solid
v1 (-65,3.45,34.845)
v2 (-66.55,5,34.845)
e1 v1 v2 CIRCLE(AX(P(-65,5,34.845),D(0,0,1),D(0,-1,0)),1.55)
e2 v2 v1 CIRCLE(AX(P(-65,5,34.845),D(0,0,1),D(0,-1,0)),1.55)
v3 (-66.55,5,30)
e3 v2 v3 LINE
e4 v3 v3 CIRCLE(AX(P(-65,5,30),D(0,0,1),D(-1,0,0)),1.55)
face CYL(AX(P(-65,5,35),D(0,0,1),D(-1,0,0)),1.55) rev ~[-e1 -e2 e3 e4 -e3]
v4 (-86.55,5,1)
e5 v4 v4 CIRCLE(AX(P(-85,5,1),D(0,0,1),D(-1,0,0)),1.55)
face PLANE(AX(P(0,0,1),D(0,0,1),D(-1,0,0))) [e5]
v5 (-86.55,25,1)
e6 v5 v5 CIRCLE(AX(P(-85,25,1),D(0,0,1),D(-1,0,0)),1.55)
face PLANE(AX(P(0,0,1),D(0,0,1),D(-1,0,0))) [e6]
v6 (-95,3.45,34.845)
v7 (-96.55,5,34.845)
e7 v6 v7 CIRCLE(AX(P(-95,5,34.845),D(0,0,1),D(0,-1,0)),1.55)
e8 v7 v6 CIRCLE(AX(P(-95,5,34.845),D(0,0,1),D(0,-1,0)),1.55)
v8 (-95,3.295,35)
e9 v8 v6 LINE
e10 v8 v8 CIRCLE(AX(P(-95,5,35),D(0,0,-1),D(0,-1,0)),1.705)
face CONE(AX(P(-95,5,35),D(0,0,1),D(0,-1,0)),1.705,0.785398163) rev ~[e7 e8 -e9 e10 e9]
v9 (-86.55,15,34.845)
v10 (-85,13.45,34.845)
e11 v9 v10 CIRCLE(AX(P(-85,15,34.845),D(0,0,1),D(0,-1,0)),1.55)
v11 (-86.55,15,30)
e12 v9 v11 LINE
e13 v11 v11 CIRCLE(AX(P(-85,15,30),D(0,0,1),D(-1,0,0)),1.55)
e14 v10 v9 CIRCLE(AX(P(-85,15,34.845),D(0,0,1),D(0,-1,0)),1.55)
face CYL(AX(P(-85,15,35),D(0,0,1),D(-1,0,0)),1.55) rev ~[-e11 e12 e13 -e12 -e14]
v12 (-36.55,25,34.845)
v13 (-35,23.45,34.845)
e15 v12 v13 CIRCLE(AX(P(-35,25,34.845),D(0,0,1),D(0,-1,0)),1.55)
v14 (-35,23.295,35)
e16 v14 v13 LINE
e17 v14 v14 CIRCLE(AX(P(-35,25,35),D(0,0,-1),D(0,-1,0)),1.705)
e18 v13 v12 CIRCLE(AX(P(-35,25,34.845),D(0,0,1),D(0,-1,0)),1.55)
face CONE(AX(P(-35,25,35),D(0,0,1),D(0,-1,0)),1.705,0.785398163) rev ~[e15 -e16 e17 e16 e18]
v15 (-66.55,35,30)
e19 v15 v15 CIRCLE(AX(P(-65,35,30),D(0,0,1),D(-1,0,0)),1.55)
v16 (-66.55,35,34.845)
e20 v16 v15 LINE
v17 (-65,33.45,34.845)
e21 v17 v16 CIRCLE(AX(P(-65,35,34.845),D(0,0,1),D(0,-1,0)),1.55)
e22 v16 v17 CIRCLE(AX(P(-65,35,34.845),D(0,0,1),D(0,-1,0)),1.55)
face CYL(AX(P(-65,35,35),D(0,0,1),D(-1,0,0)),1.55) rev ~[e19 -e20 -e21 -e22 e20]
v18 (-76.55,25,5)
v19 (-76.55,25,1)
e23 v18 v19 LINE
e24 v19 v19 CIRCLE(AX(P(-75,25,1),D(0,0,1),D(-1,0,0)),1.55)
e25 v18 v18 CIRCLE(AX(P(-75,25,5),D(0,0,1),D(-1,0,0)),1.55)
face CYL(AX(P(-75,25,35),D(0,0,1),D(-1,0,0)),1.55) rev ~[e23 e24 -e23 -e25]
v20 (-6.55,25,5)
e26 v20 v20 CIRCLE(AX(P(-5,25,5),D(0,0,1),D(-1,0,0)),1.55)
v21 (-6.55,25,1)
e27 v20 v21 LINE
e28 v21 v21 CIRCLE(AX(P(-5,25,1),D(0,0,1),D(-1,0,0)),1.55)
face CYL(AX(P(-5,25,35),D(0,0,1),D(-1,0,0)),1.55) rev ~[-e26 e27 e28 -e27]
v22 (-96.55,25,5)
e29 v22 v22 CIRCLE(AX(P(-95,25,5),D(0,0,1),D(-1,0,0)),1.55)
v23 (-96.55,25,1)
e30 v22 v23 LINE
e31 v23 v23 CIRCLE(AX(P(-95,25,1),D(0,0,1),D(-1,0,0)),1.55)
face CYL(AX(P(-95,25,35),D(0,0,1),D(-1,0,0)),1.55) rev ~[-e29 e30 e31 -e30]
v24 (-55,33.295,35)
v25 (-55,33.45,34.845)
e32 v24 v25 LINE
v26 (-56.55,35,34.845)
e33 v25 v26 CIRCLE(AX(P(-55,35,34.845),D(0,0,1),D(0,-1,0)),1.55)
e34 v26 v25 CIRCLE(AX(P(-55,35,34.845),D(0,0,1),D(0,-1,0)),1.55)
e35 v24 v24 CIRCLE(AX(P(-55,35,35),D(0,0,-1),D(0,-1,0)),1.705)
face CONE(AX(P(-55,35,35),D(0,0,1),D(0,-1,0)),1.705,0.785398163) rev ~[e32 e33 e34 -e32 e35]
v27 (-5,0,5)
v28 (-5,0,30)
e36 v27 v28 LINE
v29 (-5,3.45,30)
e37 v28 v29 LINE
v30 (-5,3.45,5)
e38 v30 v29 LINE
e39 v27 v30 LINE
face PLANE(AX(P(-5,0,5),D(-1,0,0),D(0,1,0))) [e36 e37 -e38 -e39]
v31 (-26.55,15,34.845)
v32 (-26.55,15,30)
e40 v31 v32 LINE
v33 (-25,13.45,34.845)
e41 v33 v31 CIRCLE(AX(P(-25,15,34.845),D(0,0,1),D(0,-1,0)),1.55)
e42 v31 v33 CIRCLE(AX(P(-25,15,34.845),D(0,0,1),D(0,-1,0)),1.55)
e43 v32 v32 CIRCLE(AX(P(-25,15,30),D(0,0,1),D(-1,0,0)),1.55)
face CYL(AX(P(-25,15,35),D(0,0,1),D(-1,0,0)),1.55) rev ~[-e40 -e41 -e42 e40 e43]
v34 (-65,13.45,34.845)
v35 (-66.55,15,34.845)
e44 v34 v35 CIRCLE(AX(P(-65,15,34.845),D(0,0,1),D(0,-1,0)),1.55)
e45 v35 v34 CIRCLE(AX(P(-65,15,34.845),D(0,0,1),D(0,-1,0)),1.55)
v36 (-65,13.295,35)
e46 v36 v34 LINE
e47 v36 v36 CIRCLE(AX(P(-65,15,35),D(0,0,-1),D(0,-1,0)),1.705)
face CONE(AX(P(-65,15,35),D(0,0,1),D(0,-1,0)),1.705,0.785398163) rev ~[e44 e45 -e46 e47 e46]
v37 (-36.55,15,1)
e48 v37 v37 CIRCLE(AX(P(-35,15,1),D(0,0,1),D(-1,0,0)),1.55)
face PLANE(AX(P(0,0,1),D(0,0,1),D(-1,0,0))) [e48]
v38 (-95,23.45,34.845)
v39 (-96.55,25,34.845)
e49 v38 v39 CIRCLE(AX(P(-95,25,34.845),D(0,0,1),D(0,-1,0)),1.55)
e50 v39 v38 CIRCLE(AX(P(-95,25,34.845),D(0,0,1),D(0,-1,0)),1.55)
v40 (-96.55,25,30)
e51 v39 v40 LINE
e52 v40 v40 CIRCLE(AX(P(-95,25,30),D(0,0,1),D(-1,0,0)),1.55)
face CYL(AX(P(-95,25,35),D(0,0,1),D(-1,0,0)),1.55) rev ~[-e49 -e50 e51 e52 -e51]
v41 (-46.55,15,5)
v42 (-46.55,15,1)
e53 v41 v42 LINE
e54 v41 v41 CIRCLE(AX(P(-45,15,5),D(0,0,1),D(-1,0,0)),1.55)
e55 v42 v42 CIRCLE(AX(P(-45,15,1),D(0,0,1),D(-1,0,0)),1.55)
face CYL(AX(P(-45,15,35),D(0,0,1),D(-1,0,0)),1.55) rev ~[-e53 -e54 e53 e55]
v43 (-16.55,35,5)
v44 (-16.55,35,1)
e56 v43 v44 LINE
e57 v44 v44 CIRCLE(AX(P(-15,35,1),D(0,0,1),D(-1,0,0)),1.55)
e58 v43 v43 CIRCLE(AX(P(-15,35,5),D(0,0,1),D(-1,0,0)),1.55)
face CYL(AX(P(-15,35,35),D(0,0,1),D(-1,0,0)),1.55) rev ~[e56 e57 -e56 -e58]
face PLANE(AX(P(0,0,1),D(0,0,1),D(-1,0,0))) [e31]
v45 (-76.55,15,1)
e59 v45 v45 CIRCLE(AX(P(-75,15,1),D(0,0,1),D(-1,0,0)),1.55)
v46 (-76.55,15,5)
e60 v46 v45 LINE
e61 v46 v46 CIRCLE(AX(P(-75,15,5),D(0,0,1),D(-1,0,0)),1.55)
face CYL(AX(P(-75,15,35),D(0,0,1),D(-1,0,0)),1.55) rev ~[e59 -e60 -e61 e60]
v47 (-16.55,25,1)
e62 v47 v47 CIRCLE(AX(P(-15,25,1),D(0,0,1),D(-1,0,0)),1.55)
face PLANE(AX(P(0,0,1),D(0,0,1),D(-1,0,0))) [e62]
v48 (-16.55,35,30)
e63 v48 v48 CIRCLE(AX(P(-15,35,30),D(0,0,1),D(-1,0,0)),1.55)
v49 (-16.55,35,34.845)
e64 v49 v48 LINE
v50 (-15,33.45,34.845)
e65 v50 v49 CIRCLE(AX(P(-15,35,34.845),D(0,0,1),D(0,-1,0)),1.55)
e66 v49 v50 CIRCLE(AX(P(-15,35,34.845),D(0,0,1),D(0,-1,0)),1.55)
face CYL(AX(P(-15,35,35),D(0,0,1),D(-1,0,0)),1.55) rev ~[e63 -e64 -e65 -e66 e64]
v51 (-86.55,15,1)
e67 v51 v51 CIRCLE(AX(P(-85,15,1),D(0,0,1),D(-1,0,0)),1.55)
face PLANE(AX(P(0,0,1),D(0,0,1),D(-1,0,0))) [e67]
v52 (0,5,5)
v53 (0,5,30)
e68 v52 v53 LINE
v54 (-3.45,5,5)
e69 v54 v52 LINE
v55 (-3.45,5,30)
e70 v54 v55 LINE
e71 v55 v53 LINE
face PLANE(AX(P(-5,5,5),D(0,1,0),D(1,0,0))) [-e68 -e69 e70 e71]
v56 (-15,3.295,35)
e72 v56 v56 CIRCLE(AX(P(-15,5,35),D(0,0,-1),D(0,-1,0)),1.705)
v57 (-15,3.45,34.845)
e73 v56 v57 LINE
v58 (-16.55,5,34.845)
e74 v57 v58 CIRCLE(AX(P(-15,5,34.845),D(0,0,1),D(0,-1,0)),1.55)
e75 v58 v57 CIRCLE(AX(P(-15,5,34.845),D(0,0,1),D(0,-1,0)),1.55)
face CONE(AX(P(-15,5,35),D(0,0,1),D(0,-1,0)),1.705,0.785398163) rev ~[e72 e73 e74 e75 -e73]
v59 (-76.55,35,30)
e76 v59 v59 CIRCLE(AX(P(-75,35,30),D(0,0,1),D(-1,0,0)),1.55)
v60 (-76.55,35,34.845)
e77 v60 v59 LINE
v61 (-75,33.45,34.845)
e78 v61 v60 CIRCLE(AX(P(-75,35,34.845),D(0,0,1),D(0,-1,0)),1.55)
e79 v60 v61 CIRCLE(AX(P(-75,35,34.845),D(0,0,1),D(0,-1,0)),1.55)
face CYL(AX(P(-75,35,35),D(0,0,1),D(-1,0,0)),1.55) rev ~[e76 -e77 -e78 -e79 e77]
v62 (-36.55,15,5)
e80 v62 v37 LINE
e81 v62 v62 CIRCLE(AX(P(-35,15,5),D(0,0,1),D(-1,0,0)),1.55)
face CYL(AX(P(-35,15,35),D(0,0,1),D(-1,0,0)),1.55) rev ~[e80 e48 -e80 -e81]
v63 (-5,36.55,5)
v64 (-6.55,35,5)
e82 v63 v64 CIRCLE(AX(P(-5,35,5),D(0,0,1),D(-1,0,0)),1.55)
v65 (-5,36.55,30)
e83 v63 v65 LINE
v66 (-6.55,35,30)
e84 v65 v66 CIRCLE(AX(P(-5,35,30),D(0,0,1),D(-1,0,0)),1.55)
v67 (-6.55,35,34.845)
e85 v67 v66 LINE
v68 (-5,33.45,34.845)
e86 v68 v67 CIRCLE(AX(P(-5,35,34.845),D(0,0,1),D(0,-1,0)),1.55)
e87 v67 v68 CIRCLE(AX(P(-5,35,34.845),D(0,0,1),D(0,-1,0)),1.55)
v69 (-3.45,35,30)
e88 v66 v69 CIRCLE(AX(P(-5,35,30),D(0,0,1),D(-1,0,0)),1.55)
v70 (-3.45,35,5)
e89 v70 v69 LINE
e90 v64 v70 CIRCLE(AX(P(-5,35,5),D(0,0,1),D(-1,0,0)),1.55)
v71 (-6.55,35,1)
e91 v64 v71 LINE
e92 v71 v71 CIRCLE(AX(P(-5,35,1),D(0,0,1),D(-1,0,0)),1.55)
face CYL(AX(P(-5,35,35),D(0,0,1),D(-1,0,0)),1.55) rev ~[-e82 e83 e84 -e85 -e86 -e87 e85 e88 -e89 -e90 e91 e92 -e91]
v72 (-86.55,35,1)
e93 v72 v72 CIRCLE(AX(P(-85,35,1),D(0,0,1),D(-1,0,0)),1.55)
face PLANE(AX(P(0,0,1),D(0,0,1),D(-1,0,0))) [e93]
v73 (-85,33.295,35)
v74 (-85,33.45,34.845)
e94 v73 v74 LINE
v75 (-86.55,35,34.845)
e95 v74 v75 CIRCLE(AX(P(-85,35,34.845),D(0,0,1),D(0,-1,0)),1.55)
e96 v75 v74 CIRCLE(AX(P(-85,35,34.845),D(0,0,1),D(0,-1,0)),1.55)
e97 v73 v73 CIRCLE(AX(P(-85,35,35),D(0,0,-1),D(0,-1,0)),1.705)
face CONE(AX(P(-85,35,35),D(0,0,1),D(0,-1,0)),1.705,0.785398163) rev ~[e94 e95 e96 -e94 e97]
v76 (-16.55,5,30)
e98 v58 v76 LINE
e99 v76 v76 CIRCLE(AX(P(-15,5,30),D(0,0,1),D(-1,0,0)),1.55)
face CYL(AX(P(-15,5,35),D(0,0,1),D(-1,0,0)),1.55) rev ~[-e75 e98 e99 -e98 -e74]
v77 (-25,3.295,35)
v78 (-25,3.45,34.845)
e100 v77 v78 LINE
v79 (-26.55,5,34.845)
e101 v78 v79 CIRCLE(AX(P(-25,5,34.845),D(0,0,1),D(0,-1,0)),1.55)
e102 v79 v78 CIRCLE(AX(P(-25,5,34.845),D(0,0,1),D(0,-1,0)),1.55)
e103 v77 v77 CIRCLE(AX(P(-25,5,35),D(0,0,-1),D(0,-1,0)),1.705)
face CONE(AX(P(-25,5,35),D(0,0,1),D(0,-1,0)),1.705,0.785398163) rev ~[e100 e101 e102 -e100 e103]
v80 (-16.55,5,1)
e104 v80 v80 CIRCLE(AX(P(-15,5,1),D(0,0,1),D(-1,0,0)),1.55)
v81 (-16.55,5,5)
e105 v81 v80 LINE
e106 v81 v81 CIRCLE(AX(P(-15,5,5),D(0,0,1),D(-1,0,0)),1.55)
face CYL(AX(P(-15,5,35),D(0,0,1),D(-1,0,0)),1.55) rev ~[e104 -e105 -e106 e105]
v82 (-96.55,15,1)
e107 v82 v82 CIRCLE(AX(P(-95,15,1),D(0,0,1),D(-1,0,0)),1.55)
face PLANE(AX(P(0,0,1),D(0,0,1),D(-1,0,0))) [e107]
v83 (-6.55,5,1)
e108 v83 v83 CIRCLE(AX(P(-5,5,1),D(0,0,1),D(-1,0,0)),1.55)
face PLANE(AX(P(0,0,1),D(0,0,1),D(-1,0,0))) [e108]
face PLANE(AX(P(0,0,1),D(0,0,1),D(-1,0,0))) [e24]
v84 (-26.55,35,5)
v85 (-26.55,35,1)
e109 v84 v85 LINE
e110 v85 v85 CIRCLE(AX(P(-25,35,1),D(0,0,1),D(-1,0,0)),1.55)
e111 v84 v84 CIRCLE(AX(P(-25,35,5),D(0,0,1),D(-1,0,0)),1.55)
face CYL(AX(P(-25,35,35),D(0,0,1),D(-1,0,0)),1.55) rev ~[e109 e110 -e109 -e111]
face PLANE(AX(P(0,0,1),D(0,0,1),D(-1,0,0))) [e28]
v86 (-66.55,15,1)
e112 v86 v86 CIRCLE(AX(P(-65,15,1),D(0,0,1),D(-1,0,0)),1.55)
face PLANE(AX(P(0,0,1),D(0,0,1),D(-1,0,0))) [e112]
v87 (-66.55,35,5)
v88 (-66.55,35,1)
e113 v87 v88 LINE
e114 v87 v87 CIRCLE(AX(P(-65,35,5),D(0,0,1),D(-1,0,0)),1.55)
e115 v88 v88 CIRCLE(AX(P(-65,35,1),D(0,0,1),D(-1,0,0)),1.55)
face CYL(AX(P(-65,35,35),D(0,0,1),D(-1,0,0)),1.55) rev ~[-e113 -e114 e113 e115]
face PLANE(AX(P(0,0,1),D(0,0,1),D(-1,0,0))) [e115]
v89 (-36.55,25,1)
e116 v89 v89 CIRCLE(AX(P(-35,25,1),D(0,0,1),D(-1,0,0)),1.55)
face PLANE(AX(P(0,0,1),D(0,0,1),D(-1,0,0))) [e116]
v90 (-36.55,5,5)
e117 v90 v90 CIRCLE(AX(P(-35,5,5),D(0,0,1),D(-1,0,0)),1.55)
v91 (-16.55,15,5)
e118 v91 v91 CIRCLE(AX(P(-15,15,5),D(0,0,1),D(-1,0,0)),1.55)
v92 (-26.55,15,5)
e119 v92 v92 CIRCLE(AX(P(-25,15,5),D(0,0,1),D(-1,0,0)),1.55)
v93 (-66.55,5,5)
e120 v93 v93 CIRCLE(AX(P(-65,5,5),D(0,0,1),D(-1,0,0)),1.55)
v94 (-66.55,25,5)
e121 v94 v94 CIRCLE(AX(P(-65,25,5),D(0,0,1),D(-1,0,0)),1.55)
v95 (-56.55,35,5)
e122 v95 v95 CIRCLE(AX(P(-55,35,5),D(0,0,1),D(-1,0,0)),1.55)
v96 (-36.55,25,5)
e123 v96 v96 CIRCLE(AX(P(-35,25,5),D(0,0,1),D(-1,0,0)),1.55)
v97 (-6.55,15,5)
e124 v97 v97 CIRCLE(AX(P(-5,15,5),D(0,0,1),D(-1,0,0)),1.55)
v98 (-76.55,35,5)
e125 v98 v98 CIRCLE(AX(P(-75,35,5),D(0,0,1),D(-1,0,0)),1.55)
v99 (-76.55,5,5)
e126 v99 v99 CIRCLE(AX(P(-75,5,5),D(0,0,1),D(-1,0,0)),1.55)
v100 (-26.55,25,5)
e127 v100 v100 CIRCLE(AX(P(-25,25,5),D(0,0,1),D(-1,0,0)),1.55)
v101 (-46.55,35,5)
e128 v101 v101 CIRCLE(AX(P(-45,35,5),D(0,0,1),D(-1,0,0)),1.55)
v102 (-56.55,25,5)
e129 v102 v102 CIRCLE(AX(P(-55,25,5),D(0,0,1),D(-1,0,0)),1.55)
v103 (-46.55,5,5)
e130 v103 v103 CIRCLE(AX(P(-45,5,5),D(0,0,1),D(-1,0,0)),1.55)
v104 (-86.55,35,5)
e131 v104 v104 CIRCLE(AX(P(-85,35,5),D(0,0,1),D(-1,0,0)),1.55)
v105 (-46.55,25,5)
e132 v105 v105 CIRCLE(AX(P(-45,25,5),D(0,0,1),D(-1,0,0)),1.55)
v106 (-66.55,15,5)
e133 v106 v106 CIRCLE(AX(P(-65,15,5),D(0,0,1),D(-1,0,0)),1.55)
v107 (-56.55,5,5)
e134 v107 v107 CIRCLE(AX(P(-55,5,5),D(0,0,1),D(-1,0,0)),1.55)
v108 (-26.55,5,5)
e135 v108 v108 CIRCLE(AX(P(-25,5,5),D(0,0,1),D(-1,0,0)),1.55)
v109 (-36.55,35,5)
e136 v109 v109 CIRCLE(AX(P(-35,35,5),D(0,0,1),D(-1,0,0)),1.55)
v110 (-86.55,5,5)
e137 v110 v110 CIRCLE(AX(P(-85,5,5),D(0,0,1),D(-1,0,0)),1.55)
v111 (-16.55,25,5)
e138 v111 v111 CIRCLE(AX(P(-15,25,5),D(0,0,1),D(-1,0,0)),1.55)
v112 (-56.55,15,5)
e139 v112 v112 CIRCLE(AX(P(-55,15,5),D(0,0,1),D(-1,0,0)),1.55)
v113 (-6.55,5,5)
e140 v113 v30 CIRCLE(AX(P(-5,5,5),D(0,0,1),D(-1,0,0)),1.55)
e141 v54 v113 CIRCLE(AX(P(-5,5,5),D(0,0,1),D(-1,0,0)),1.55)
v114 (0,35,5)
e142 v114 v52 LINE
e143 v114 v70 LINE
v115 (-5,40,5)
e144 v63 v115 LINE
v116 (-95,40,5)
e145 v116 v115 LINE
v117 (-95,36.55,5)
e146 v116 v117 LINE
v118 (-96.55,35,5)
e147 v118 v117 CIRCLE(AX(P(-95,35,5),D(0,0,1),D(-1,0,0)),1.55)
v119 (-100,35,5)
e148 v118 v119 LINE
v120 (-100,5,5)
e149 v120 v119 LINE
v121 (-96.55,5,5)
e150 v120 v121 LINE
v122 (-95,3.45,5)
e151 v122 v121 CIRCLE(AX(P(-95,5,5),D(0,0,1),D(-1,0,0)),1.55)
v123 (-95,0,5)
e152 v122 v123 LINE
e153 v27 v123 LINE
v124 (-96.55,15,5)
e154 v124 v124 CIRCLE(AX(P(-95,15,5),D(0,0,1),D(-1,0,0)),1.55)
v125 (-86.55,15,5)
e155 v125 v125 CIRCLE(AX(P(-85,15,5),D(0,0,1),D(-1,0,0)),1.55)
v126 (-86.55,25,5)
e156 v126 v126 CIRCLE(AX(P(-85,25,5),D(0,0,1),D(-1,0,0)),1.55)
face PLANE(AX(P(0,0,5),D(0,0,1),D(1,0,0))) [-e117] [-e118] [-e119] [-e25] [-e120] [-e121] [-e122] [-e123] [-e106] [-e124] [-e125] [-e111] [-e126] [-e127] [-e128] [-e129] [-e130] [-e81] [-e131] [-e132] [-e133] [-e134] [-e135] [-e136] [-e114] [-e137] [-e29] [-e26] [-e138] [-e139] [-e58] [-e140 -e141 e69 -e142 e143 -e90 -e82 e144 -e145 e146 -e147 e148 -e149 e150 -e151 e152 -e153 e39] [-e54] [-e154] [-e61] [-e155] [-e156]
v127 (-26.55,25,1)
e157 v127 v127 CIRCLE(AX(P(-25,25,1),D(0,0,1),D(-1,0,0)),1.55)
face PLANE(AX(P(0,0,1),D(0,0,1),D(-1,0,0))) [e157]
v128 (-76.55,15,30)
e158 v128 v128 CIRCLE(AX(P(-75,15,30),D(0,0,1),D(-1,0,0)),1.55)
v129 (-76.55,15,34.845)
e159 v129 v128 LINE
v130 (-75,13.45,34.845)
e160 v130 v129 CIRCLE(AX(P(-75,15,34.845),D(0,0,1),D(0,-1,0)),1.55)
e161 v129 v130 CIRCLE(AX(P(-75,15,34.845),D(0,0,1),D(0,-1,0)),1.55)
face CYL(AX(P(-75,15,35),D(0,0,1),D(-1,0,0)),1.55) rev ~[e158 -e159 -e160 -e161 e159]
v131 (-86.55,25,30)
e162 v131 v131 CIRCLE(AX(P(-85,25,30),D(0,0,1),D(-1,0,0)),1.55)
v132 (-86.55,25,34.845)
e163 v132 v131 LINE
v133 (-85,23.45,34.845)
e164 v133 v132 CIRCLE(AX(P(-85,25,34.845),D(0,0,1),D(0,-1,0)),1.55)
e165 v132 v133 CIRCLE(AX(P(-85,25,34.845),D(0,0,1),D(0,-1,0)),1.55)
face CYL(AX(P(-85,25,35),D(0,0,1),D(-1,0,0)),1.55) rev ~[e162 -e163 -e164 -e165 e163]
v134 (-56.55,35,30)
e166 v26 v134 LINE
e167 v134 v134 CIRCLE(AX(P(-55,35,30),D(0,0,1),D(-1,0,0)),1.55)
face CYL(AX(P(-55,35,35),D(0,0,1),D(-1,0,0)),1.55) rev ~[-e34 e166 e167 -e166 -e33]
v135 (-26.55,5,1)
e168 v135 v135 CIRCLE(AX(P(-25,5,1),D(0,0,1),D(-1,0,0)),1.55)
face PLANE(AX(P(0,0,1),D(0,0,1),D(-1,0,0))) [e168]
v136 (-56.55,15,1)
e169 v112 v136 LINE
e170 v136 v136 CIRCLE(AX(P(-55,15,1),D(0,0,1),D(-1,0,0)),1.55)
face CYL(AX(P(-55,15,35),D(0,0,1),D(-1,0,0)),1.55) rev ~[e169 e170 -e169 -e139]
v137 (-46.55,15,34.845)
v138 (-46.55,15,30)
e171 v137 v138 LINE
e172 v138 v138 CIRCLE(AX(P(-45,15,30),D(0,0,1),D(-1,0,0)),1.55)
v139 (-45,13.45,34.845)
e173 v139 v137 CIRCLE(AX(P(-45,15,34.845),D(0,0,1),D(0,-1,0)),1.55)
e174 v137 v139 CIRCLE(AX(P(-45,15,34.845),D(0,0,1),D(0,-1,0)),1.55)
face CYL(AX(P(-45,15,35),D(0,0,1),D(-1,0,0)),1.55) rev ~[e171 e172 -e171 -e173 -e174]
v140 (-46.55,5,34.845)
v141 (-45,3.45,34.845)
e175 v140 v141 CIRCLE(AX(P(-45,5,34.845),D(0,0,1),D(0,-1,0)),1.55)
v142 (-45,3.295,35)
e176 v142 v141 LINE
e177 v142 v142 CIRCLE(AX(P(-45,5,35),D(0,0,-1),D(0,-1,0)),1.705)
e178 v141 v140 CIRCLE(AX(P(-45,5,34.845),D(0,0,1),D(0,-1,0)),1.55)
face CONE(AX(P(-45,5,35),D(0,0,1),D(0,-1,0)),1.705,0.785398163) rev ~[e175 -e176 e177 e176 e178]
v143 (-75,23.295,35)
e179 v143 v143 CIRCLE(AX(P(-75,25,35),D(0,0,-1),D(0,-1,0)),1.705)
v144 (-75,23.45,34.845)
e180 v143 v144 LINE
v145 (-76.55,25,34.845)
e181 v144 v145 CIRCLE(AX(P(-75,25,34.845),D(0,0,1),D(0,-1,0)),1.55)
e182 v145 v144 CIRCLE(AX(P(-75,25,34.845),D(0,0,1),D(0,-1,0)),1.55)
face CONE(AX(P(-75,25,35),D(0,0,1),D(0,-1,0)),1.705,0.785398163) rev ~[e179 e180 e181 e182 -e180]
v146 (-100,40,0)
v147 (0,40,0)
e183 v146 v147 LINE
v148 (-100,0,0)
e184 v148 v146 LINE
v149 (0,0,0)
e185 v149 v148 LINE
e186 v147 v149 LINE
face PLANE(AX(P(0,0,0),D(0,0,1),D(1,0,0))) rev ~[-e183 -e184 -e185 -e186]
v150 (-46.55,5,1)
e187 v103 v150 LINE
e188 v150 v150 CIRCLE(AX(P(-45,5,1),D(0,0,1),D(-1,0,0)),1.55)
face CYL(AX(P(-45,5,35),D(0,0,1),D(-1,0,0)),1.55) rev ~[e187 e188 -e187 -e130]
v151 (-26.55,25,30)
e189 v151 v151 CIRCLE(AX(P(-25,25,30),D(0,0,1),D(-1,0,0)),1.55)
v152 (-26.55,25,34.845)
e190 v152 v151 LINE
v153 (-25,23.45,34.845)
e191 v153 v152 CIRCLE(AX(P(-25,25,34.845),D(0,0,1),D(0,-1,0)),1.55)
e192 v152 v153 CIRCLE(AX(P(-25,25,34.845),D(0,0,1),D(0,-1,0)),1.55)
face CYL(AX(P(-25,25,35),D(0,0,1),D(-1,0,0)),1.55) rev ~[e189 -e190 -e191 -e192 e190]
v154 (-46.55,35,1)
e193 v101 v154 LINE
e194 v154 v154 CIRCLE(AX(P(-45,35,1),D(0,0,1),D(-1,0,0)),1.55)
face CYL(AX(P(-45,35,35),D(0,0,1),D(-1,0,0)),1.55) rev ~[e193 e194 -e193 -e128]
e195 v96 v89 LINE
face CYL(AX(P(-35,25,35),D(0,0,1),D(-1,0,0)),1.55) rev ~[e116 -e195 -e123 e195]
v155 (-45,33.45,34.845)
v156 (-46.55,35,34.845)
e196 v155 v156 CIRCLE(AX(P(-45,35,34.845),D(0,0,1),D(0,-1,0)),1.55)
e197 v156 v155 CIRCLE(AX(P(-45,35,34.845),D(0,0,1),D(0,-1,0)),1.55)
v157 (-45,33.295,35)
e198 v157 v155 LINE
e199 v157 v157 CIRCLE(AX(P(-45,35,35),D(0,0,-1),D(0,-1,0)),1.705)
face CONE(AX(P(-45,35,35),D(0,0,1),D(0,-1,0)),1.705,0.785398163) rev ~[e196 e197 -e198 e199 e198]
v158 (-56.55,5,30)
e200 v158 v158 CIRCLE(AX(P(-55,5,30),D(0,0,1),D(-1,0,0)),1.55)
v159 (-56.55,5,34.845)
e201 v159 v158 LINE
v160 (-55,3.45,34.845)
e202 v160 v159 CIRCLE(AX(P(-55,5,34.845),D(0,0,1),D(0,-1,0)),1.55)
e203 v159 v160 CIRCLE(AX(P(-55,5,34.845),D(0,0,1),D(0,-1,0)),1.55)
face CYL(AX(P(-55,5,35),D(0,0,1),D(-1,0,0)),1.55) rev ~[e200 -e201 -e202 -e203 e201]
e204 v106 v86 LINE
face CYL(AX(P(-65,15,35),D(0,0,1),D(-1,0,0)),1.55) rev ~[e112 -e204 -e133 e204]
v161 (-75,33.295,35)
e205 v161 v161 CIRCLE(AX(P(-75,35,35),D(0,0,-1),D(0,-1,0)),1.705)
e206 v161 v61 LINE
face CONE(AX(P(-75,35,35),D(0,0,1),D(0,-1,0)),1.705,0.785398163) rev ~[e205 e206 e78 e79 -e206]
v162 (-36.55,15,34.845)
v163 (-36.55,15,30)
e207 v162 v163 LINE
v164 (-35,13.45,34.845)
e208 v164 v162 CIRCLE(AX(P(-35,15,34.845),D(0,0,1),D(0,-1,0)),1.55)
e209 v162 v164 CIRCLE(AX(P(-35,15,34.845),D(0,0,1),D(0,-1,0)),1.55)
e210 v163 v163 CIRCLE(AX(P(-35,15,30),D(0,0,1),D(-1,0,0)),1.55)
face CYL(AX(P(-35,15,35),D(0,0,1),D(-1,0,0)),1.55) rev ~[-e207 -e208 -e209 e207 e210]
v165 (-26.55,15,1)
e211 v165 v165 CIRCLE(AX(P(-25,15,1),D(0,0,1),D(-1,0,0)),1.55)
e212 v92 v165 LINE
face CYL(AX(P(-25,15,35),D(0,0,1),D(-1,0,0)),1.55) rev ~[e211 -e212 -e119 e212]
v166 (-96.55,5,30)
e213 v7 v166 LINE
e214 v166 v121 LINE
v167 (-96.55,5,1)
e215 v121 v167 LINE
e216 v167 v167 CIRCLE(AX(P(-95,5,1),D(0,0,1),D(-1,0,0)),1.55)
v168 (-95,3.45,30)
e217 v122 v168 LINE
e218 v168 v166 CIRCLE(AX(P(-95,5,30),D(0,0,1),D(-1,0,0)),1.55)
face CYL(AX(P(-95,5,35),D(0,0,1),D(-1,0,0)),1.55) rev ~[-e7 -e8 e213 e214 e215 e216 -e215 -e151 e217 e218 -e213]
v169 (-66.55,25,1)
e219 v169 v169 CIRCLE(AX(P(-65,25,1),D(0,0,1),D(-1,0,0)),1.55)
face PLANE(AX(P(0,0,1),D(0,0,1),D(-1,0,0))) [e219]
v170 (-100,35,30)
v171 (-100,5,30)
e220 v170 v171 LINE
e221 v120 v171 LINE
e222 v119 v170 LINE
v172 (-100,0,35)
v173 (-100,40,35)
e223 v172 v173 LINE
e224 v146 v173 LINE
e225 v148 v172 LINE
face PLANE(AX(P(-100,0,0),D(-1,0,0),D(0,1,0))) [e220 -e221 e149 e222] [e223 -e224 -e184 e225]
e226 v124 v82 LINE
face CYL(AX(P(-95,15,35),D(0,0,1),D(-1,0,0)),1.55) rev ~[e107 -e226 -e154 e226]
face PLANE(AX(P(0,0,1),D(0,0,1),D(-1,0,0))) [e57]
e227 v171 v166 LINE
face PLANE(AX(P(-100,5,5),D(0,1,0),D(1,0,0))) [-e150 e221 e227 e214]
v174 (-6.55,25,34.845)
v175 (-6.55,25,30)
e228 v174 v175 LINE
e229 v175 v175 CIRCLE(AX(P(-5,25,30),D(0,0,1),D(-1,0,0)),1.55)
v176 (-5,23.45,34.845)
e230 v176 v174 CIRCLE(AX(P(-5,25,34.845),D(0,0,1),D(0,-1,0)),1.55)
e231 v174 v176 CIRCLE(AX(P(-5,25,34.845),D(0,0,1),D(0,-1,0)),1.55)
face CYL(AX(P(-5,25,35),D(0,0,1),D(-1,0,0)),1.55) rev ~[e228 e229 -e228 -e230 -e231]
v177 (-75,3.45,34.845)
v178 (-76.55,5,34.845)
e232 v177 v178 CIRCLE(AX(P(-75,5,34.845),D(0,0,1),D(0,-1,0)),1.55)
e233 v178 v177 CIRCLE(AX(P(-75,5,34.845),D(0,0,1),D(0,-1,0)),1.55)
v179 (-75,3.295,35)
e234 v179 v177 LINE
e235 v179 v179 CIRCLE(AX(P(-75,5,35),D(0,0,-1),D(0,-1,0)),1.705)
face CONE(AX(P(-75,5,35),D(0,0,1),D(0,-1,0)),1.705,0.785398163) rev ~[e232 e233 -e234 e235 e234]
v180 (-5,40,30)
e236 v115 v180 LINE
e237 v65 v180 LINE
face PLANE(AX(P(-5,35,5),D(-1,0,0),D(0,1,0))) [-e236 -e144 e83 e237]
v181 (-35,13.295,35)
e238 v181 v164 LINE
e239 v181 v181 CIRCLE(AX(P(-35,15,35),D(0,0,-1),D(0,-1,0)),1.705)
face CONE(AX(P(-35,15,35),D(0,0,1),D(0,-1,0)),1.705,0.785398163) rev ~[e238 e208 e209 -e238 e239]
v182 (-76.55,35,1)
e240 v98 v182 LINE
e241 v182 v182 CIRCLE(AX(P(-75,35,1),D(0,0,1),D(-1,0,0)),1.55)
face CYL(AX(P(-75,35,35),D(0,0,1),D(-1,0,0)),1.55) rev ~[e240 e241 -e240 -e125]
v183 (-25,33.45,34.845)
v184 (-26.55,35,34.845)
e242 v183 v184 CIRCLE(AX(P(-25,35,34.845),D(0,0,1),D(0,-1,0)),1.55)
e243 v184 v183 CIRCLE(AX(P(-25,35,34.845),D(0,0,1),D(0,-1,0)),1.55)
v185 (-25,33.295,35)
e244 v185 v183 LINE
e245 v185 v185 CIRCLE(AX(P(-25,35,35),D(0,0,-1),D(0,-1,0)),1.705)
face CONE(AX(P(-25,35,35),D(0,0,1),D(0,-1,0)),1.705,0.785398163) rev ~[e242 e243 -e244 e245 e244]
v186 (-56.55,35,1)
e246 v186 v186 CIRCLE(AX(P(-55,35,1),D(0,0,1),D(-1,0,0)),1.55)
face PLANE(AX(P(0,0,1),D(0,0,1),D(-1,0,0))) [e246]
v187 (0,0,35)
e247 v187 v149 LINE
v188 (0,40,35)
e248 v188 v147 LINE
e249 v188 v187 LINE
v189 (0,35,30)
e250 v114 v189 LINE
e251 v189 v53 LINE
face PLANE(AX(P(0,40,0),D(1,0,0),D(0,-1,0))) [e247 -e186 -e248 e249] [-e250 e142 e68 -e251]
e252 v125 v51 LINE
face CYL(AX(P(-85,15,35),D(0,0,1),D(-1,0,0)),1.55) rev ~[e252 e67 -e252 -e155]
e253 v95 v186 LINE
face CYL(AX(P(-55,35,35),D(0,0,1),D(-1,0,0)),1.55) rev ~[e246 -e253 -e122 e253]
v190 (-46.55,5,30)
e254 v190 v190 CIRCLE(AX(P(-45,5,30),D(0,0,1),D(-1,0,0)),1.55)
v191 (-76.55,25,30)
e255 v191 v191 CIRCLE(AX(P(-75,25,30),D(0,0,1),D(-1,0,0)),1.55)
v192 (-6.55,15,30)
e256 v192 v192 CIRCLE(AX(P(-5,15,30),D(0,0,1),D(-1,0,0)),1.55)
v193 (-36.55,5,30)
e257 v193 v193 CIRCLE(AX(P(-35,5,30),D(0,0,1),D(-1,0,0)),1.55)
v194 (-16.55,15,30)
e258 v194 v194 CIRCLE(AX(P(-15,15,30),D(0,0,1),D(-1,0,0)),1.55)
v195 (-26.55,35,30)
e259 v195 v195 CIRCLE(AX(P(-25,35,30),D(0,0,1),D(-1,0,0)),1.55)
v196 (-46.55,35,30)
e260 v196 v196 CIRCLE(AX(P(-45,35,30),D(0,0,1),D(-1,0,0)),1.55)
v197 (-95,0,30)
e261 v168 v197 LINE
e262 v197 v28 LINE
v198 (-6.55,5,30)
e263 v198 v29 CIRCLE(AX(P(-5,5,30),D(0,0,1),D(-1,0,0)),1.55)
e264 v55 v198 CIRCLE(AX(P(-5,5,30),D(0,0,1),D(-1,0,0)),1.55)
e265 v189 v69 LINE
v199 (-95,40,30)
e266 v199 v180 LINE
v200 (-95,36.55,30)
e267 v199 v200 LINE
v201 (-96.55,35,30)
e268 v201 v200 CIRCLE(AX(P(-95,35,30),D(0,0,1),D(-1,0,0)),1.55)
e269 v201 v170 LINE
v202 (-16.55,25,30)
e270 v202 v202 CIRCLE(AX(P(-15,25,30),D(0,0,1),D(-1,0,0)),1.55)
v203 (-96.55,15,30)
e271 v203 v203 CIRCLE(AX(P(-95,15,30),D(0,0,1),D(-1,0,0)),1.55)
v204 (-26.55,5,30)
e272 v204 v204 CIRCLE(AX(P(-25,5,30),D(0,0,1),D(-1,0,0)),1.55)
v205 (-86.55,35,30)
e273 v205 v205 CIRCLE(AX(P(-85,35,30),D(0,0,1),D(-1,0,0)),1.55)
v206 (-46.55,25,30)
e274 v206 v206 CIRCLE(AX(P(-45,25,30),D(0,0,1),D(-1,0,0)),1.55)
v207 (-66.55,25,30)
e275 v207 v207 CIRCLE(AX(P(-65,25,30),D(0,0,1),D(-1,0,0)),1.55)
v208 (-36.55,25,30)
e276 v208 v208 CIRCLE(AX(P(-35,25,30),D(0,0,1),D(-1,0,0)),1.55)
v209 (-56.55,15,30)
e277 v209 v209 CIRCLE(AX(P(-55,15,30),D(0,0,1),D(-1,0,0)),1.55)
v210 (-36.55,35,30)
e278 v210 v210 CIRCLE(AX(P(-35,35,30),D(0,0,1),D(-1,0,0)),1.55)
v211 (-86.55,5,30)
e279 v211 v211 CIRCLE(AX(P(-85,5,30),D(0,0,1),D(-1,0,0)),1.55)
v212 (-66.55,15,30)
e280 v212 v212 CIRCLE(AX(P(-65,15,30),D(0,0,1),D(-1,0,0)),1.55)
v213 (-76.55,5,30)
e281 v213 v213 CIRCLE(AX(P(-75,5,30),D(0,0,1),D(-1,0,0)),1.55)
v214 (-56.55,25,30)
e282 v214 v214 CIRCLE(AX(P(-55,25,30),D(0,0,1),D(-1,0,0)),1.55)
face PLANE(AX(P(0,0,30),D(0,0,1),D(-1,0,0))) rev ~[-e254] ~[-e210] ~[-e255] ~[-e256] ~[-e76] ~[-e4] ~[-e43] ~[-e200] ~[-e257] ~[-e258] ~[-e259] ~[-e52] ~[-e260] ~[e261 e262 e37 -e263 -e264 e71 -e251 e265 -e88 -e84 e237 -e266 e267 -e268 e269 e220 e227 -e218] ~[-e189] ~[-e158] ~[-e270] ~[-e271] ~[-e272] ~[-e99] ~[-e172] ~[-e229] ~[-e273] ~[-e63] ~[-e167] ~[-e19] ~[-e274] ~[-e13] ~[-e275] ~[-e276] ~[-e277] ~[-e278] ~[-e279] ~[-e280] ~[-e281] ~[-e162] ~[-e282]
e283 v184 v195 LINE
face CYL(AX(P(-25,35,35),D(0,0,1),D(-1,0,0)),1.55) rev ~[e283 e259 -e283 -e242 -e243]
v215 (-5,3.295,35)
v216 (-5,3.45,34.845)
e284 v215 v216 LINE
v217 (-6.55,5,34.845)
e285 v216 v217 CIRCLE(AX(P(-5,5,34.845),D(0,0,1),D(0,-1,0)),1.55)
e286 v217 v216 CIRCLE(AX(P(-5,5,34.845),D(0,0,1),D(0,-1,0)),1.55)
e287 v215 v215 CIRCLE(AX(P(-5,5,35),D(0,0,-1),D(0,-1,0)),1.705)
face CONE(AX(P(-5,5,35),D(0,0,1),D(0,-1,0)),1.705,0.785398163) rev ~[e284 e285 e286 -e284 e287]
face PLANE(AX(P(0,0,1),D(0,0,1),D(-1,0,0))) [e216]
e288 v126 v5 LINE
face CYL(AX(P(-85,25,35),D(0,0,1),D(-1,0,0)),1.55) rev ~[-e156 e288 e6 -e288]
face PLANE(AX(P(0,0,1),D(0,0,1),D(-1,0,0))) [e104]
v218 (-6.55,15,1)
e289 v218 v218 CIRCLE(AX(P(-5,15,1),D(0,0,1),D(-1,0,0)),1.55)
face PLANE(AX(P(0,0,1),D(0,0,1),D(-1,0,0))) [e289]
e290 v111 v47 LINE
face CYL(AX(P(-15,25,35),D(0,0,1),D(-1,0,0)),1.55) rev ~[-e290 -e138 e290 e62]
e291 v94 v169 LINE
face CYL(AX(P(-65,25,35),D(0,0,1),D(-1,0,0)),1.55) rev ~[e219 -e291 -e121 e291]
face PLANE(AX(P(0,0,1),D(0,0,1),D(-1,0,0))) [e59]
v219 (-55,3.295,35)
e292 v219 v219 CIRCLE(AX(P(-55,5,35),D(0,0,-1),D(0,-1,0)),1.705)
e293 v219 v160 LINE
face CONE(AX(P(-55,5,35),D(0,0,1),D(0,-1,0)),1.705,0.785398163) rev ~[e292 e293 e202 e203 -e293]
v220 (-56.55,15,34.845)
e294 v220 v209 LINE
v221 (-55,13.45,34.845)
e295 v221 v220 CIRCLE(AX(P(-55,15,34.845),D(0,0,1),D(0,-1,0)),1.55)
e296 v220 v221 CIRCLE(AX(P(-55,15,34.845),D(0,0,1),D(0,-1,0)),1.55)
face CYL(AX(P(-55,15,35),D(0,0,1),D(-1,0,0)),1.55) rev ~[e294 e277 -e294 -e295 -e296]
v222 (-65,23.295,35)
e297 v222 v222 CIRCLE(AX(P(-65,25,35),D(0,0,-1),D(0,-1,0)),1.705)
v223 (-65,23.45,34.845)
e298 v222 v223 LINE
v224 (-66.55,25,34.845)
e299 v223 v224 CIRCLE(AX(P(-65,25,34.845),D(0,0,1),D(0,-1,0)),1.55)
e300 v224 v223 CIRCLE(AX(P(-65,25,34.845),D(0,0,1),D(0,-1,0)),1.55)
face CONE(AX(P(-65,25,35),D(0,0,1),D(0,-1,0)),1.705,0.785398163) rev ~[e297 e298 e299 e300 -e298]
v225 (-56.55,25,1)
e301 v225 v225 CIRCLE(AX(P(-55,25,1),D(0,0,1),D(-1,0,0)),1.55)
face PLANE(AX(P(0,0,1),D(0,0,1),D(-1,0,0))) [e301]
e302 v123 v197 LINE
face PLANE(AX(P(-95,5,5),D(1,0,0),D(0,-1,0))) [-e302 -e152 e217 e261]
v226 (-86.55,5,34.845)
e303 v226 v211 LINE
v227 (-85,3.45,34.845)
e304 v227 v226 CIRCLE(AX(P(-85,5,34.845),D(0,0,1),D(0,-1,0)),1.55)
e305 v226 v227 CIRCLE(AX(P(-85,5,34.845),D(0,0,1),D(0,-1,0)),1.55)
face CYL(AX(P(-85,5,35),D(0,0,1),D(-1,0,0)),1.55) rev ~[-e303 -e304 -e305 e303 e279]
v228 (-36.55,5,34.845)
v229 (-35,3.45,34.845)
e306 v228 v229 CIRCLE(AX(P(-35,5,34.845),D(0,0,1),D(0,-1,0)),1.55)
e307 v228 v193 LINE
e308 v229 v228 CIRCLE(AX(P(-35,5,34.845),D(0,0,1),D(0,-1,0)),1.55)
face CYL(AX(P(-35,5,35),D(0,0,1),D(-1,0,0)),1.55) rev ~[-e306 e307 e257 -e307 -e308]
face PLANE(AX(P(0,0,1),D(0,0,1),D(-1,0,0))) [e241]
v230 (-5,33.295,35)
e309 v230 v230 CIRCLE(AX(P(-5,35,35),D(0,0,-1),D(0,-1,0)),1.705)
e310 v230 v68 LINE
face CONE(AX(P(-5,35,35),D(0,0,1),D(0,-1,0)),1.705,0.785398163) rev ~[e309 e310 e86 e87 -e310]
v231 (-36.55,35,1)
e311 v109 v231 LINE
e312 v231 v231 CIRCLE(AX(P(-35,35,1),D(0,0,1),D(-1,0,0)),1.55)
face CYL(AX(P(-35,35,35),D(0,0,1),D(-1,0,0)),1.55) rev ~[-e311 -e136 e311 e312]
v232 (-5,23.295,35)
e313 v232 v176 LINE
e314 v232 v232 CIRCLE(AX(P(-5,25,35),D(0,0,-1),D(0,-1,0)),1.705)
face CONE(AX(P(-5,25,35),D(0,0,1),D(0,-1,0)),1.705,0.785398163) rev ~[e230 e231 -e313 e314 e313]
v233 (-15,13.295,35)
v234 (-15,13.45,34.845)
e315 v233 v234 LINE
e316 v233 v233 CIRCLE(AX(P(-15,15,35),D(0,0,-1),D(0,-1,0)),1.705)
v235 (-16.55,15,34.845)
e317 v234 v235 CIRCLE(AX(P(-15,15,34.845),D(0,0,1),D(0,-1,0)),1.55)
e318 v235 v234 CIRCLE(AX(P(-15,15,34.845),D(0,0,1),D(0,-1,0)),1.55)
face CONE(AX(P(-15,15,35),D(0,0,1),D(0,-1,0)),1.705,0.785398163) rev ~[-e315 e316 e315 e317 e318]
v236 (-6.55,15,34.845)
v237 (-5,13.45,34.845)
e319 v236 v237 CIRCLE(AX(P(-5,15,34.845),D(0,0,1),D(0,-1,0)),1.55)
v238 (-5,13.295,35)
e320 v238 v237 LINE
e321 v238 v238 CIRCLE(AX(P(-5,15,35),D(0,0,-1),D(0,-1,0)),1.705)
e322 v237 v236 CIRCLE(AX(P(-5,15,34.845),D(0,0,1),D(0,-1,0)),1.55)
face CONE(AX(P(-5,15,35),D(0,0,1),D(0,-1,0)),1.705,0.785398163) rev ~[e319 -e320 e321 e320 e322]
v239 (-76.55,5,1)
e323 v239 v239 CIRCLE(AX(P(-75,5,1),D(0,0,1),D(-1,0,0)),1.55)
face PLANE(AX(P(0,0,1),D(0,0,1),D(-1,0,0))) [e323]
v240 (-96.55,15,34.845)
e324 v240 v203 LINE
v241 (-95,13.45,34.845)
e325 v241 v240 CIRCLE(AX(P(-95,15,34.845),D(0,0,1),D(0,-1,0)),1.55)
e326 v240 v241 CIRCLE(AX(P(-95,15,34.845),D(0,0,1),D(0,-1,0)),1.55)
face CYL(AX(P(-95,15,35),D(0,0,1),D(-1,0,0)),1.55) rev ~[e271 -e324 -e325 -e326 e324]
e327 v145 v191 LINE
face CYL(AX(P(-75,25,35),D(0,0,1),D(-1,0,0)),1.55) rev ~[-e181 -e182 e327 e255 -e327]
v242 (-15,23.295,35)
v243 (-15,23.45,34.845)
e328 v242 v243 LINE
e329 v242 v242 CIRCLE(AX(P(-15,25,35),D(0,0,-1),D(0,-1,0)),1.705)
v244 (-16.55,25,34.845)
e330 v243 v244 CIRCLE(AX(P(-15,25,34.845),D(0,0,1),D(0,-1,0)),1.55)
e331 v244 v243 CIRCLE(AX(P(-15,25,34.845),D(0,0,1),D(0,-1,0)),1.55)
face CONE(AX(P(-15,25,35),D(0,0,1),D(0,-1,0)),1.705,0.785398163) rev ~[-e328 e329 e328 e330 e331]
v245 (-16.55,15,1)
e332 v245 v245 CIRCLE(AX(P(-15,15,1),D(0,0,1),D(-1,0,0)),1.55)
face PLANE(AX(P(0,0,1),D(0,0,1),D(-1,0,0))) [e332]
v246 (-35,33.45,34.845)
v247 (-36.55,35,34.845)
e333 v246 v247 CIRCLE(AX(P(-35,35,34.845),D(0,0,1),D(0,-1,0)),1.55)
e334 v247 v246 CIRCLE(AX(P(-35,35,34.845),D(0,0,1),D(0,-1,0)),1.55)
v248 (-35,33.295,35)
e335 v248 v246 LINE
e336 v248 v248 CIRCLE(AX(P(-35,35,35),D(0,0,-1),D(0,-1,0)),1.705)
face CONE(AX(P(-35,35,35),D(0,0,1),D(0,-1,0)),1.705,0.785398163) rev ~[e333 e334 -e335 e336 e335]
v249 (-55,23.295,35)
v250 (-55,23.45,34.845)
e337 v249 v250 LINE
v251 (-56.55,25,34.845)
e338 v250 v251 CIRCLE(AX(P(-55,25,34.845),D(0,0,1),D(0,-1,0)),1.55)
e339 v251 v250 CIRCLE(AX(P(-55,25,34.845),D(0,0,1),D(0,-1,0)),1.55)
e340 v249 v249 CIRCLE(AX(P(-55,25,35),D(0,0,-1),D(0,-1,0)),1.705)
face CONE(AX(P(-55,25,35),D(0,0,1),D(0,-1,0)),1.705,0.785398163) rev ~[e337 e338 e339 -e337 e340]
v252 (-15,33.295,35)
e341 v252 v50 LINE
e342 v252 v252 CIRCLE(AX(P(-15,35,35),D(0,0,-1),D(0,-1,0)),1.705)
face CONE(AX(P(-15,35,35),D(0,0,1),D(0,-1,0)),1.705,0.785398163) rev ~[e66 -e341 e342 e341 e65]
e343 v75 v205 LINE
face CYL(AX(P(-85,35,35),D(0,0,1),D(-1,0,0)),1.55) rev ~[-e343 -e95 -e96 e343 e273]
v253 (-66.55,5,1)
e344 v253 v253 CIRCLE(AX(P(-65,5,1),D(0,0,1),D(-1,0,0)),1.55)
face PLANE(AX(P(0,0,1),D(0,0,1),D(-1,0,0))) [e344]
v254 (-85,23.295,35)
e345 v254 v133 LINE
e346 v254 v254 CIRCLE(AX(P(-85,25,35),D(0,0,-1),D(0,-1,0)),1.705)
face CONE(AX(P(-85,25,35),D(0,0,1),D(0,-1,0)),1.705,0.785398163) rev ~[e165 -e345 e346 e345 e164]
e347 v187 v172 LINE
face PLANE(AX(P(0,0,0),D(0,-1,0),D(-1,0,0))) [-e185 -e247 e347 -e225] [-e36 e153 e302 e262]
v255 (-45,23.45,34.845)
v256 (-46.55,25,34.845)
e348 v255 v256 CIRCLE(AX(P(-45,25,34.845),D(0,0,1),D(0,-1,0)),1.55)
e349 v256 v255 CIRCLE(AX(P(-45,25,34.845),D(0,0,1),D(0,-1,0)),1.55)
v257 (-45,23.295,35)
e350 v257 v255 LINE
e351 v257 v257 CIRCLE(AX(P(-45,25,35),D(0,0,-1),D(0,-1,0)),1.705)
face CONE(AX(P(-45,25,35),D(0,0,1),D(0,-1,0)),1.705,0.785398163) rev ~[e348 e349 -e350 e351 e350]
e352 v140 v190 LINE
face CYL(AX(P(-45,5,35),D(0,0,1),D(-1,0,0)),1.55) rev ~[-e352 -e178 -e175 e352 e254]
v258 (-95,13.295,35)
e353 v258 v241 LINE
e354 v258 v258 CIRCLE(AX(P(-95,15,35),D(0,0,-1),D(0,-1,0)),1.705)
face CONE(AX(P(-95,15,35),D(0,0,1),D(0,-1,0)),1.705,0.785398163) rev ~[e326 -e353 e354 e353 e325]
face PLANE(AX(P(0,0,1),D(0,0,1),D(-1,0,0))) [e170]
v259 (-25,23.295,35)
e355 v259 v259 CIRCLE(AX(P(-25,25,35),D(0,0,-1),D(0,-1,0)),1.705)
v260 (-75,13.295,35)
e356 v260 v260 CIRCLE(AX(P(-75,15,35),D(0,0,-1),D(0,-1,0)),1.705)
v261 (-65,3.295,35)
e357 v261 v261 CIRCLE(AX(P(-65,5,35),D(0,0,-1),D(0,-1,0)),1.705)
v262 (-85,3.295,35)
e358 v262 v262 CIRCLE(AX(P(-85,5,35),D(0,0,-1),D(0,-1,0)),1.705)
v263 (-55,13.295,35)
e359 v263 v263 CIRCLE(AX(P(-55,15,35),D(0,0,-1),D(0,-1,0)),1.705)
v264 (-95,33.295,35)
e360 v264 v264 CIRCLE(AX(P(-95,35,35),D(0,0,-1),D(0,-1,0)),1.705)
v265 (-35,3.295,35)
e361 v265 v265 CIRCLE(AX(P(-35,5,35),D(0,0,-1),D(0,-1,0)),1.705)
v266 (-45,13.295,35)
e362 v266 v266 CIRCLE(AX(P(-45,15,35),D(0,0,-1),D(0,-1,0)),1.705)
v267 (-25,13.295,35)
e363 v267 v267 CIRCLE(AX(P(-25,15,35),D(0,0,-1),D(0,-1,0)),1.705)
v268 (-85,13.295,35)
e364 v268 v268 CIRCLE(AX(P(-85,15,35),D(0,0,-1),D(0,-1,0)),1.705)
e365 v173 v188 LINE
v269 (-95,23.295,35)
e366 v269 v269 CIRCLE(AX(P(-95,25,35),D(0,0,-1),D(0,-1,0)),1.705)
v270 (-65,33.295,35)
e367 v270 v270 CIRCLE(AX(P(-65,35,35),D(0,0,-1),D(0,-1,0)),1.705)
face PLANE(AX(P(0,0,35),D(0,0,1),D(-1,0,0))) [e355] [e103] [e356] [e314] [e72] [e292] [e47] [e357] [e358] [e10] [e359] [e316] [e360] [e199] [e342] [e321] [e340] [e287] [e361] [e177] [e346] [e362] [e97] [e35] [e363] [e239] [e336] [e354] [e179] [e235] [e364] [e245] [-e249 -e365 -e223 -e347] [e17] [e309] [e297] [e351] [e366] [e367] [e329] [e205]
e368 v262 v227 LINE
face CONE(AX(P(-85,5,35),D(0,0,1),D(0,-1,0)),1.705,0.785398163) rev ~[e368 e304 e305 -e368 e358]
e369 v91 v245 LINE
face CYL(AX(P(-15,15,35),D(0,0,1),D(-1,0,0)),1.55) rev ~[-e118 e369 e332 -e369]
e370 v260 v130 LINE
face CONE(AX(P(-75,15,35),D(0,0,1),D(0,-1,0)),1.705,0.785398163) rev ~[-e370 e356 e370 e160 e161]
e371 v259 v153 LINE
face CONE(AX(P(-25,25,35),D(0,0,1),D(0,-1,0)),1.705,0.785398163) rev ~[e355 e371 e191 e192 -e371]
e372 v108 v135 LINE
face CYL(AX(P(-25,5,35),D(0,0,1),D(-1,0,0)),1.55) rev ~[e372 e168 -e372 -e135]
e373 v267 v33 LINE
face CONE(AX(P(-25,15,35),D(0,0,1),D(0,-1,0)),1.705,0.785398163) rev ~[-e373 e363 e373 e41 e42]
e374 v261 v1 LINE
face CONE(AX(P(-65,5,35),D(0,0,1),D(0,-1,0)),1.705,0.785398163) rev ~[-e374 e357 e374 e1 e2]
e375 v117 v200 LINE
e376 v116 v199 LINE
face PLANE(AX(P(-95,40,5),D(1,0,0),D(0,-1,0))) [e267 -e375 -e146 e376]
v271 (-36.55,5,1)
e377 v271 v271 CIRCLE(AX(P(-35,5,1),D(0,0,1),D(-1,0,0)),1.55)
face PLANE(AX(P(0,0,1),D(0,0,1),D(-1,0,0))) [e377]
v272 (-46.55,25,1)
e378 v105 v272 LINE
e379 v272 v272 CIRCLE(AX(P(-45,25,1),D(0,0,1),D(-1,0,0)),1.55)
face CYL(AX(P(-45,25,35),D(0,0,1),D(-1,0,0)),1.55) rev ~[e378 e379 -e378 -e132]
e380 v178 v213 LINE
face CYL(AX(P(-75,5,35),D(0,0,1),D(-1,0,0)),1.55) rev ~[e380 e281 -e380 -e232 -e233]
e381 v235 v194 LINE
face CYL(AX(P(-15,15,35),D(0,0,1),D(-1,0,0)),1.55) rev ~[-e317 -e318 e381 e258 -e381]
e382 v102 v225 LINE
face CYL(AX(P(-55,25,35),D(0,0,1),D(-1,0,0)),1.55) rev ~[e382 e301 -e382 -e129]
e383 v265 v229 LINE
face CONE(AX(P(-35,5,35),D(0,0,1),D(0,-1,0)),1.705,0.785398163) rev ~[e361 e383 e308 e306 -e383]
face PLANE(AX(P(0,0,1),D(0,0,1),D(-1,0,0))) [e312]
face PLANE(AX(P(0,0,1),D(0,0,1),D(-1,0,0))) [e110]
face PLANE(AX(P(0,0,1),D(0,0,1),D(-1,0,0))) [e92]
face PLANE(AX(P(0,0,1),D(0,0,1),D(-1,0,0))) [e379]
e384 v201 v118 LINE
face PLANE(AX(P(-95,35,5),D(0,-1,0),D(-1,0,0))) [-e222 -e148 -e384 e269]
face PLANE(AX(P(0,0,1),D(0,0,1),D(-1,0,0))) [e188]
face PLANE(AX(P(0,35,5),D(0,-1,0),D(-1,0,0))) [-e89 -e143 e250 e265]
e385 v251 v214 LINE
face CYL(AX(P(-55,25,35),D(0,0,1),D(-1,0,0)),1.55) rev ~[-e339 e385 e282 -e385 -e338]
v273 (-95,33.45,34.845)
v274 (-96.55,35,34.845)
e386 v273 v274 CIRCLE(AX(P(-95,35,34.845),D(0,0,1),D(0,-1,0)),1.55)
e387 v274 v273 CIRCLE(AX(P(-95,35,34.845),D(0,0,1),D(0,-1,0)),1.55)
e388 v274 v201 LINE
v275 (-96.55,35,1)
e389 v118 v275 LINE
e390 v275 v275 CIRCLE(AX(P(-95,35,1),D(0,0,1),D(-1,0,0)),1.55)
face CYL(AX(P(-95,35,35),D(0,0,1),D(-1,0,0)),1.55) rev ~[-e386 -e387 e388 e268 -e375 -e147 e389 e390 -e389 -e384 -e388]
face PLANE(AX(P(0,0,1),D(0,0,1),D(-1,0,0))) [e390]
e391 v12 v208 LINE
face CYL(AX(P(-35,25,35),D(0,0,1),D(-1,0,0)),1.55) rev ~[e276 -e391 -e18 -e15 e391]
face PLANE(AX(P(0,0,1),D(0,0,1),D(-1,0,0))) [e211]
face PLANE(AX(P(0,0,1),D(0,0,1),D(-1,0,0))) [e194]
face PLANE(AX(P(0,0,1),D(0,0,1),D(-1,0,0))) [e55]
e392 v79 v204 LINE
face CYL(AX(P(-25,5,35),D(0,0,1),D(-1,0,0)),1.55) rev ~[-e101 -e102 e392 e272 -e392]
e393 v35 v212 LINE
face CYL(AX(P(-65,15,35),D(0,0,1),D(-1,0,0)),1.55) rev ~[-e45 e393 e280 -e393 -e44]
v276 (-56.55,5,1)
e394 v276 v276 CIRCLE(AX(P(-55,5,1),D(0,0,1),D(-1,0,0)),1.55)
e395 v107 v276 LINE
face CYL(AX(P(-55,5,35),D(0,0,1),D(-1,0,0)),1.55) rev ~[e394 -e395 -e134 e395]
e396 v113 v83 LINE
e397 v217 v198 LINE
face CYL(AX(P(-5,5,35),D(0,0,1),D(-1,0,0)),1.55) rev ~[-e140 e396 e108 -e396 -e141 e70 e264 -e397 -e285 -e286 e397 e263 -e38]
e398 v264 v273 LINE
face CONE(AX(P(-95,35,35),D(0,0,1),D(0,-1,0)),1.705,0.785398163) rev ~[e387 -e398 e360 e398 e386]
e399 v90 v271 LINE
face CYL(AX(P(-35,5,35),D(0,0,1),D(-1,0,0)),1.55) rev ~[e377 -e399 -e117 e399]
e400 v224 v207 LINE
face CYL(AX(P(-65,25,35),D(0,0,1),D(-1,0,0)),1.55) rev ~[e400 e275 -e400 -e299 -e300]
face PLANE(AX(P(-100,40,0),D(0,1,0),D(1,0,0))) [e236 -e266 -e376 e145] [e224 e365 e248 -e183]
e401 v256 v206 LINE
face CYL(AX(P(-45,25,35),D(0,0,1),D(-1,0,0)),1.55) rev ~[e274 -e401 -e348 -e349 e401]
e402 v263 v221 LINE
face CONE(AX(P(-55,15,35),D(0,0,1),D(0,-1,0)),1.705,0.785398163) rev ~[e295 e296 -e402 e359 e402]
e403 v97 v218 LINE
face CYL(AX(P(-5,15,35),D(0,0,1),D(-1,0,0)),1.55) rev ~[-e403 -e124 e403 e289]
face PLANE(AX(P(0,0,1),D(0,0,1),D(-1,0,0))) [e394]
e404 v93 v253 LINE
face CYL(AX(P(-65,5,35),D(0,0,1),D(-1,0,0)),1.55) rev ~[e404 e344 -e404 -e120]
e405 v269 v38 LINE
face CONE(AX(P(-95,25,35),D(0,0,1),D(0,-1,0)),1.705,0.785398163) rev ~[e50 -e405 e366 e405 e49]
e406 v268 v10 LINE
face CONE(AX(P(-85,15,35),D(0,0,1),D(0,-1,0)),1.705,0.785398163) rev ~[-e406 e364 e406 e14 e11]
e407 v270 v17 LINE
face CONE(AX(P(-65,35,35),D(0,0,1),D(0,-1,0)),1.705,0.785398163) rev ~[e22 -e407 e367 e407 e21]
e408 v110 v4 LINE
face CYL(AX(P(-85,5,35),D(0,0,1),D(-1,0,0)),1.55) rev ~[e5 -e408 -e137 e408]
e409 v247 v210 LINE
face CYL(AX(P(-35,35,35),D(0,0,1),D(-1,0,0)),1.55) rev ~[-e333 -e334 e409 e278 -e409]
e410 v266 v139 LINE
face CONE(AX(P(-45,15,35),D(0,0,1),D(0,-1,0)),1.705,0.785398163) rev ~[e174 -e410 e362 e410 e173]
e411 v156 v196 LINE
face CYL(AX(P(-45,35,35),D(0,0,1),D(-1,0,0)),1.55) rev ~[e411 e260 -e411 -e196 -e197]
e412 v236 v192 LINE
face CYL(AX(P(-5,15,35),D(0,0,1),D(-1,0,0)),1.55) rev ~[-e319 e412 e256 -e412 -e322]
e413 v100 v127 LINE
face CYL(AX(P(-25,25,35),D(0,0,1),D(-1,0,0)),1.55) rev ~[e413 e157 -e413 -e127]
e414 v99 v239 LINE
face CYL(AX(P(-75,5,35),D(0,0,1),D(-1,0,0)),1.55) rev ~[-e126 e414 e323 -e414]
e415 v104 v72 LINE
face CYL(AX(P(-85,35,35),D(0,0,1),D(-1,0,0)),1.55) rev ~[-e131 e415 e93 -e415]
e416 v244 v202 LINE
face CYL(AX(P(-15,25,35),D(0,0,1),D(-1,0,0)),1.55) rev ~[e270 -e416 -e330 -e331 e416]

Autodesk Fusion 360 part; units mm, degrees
sketch "base" plane through (0, 0, 0) normal (0, 0, 1) x (1, 0, 0)
  line L0 (-100, 40) -> (0, 40)
  line L1 (0, 40) -> (0, 0)
  line L2 (0, 0) -> (-100, 0)
  line L3 (-100, 0) -> (-100, 40)
  dimension "d1" = 40
  dimension "d2" = 100
extrude "Extrude1" add sketch "base" along normal blind 5
sketch "stands" plane through (0, 0, 5) normal (0, 0, 1) x (-1, 0, 0)
  line L0 (100, 0) -> (0, 0)
  line L1 (0, 0) -> (0, -40)
  line L2 (0, -40) -> (100, -40)
  line L3 (100, -40) -> (100, 0)
  line L4 (100, -40) -> (95, -40)
  line L5 (95, -40) -> (95, -35)
  line L6 (95, -35) -> (100, -35)
  line L7 (100, -35) -> (100, -40)
  line L8 (5, -35) -> (5, -40)
  line L9 (5, -40) -> (0, -40)
  line L10 (0, -40) -> (0, -35)
  line L11 (0, -35) -> (5, -35)
  line L12 (100, 0) -> (100, -5)
  line L13 (100, -5) -> (95, -5)
  line L14 (95, -5) -> (95, 0)
  line L15 (95, 0) -> (100, 0)
  line L16 (5, 0) -> (5, -5)
  line L17 (5, -5) -> (0, -5)
  line L18 (0, -5) -> (0, 0)
  line L19 (0, 0) -> (5, 0)
  dimension "d6" = 5
  dimension "d7" = 5
  dimension "d8" = 5
  dimension "d11" = -95
  dimension "d12" = 35
  dimension "d13" = 90
  dimension "d14" = 30
extrude "Extrude2" add sketch "stands" along normal blind 25 contours L0 L3 L12 L13 L14 L15 | L0 L1 L16 L17 L18 L19 | L2 L3 L4 L5 L6 L7 | L1 L2 L8 L9 L10 L11
sketch "top" plane through (0, 0, 30) normal (0, 0, 1) x (-1, 0, 0)
  line L0 (95, 0) -> (95, -5)
  line L1 (95, -5) -> (100, -5)
  line L2 (100, -5) -> (100, 0)
  line L3 (100, 0) -> (95, 0)
  line L4 (100, -40) -> (0, -40)
  line L5 (0, -40) -> (0, 0)
  line L6 (0, 0) -> (100, 0)
  line L7 (100, 0) -> (100, -40)
  point P0 (100, -40)
extrude "Extrude3" add sketch "top" along normal blind 5
sketch "tube holes" plane through (0, 0, 35) normal (0, 0, 1) x (-1, 0, 0)
  line L0 (100, 0) -> (0, 0)
  line L1 (0, 0) -> (0, -40)
  line L2 (0, -40) -> (100, -40)
  line L3 (100, -40) -> (100, 0)
  circle A0 centre (95, -35) radius 1.55
  circle A1 centre (85, -35) radius 1.55
  circle A2 centre (75, -35) radius 1.55
  circle A3 centre (65, -35) radius 1.55
  circle A4 centre (55, -35) radius 1.55
  circle A5 centre (45, -35) radius 1.55
  circle A6 centre (35, -35) radius 1.55
  circle A7 centre (25, -35) radius 1.55
  circle A8 centre (15, -35) radius 1.55
  circle A9 centre (5, -35) radius 1.55
  circle A10 centre (95, -25) radius 1.55
  circle A11 centre (85, -25) radius 1.55
  circle A12 centre (75, -25) radius 1.55
  circle A13 centre (65, -25) radius 1.55
  circle A14 centre (55, -25) radius 1.55
  circle A15 centre (45, -25) radius 1.55
  circle A16 centre (35, -25) radius 1.55
  circle A17 centre (25, -25) radius 1.55
  circle A18 centre (15, -25) radius 1.55
  circle A19 centre (5, -25) radius 1.55
  circle A20 centre (95, -15) radius 1.55
  circle A21 centre (85, -15) radius 1.55
  circle A22 centre (75, -15) radius 1.55
  circle A23 centre (65, -15) radius 1.55
  circle A24 centre (55, -15) radius 1.55
  circle A25 centre (45, -15) radius 1.55
  circle A26 centre (35, -15) radius 1.55
  circle A27 centre (25, -15) radius 1.55
  circle A28 centre (15, -15) radius 1.55
  circle A29 centre (5, -15) radius 1.55
  circle A30 centre (95, -5) radius 1.55
  circle A31 centre (85, -5) radius 1.55
  circle A32 centre (75, -5) radius 1.55
  circle A33 centre (65, -5) radius 1.55
  circle A34 centre (55, -5) radius 1.55
  circle A35 centre (45, -5) radius 1.55
  circle A36 centre (35, -5) radius 1.55
  circle A37 centre (25, -5) radius 1.55
  circle A38 centre (15, -5) radius 1.55
  circle A39 centre (5, -5) radius 1.55
  point P0 (95, -35)
  dimension "d19" = 3.1
  dimension "d22" = -10
  dimension "d23" = 10
extrude "Extrude4" cut sketch "tube holes" against normal blind 34 contours A0 | A1 | A2 | A3 | A4 | A5 | A6 | A7 | A8 | A9 | A10 | A11 | A12 | A13 | A14 | A15 | A16 | A17 | A18 | A19 | A20 | A21 | A22 | A23 | A24 | A25 | A26 | A27 | A28 | A29 | A30 | A31 | A32 | A33 | A34 | A35 | A36 | A37 | A38 | A39
hole "Hole1" at (-35, 5, 35) at (-5, 15, 35) at (-15, 15, 35) at (-35, 25, 35) at (-35, 35, 35) at (-45, 15, 35) at (-25, 5, 35) at (-65, 35, 35) at (-65, 15, 35) at (-75, 5, 35) at (-95, 15, 35) at (-95, 25, 35) at (-55, 5, 35) at (-95, 35, 35) at (-65, 5, 35) at (-75, 35, 35) at (-85, 35, 35) at (-55, 15, 35) at (-65, 25, 35) at (-75, 15, 35) at (-85, 5, 35) at (-75, 25, 35) at (-85, 25, 35) at (-15, 5, 35) at (-15, 25, 35) at (-25, 25, 35) at (-45, 35, 35) at (-45, 25, 35) at (-25, 35, 35) at (-45, 5, 35) at (-55, 35, 35) at (-55, 25, 35) at (-25, 15, 35) at (-5, 5, 35) at (-35, 15, 35) at (-85, 15, 35) at (-15, 35, 35) at (-5, 25, 35) at (-5, 35, 35) at (-95, 5, 35) direction (0, 0, -1) diameter 2.4 depth 30 tip angle 118 countersink diameter 3.41 countersink angle 90
